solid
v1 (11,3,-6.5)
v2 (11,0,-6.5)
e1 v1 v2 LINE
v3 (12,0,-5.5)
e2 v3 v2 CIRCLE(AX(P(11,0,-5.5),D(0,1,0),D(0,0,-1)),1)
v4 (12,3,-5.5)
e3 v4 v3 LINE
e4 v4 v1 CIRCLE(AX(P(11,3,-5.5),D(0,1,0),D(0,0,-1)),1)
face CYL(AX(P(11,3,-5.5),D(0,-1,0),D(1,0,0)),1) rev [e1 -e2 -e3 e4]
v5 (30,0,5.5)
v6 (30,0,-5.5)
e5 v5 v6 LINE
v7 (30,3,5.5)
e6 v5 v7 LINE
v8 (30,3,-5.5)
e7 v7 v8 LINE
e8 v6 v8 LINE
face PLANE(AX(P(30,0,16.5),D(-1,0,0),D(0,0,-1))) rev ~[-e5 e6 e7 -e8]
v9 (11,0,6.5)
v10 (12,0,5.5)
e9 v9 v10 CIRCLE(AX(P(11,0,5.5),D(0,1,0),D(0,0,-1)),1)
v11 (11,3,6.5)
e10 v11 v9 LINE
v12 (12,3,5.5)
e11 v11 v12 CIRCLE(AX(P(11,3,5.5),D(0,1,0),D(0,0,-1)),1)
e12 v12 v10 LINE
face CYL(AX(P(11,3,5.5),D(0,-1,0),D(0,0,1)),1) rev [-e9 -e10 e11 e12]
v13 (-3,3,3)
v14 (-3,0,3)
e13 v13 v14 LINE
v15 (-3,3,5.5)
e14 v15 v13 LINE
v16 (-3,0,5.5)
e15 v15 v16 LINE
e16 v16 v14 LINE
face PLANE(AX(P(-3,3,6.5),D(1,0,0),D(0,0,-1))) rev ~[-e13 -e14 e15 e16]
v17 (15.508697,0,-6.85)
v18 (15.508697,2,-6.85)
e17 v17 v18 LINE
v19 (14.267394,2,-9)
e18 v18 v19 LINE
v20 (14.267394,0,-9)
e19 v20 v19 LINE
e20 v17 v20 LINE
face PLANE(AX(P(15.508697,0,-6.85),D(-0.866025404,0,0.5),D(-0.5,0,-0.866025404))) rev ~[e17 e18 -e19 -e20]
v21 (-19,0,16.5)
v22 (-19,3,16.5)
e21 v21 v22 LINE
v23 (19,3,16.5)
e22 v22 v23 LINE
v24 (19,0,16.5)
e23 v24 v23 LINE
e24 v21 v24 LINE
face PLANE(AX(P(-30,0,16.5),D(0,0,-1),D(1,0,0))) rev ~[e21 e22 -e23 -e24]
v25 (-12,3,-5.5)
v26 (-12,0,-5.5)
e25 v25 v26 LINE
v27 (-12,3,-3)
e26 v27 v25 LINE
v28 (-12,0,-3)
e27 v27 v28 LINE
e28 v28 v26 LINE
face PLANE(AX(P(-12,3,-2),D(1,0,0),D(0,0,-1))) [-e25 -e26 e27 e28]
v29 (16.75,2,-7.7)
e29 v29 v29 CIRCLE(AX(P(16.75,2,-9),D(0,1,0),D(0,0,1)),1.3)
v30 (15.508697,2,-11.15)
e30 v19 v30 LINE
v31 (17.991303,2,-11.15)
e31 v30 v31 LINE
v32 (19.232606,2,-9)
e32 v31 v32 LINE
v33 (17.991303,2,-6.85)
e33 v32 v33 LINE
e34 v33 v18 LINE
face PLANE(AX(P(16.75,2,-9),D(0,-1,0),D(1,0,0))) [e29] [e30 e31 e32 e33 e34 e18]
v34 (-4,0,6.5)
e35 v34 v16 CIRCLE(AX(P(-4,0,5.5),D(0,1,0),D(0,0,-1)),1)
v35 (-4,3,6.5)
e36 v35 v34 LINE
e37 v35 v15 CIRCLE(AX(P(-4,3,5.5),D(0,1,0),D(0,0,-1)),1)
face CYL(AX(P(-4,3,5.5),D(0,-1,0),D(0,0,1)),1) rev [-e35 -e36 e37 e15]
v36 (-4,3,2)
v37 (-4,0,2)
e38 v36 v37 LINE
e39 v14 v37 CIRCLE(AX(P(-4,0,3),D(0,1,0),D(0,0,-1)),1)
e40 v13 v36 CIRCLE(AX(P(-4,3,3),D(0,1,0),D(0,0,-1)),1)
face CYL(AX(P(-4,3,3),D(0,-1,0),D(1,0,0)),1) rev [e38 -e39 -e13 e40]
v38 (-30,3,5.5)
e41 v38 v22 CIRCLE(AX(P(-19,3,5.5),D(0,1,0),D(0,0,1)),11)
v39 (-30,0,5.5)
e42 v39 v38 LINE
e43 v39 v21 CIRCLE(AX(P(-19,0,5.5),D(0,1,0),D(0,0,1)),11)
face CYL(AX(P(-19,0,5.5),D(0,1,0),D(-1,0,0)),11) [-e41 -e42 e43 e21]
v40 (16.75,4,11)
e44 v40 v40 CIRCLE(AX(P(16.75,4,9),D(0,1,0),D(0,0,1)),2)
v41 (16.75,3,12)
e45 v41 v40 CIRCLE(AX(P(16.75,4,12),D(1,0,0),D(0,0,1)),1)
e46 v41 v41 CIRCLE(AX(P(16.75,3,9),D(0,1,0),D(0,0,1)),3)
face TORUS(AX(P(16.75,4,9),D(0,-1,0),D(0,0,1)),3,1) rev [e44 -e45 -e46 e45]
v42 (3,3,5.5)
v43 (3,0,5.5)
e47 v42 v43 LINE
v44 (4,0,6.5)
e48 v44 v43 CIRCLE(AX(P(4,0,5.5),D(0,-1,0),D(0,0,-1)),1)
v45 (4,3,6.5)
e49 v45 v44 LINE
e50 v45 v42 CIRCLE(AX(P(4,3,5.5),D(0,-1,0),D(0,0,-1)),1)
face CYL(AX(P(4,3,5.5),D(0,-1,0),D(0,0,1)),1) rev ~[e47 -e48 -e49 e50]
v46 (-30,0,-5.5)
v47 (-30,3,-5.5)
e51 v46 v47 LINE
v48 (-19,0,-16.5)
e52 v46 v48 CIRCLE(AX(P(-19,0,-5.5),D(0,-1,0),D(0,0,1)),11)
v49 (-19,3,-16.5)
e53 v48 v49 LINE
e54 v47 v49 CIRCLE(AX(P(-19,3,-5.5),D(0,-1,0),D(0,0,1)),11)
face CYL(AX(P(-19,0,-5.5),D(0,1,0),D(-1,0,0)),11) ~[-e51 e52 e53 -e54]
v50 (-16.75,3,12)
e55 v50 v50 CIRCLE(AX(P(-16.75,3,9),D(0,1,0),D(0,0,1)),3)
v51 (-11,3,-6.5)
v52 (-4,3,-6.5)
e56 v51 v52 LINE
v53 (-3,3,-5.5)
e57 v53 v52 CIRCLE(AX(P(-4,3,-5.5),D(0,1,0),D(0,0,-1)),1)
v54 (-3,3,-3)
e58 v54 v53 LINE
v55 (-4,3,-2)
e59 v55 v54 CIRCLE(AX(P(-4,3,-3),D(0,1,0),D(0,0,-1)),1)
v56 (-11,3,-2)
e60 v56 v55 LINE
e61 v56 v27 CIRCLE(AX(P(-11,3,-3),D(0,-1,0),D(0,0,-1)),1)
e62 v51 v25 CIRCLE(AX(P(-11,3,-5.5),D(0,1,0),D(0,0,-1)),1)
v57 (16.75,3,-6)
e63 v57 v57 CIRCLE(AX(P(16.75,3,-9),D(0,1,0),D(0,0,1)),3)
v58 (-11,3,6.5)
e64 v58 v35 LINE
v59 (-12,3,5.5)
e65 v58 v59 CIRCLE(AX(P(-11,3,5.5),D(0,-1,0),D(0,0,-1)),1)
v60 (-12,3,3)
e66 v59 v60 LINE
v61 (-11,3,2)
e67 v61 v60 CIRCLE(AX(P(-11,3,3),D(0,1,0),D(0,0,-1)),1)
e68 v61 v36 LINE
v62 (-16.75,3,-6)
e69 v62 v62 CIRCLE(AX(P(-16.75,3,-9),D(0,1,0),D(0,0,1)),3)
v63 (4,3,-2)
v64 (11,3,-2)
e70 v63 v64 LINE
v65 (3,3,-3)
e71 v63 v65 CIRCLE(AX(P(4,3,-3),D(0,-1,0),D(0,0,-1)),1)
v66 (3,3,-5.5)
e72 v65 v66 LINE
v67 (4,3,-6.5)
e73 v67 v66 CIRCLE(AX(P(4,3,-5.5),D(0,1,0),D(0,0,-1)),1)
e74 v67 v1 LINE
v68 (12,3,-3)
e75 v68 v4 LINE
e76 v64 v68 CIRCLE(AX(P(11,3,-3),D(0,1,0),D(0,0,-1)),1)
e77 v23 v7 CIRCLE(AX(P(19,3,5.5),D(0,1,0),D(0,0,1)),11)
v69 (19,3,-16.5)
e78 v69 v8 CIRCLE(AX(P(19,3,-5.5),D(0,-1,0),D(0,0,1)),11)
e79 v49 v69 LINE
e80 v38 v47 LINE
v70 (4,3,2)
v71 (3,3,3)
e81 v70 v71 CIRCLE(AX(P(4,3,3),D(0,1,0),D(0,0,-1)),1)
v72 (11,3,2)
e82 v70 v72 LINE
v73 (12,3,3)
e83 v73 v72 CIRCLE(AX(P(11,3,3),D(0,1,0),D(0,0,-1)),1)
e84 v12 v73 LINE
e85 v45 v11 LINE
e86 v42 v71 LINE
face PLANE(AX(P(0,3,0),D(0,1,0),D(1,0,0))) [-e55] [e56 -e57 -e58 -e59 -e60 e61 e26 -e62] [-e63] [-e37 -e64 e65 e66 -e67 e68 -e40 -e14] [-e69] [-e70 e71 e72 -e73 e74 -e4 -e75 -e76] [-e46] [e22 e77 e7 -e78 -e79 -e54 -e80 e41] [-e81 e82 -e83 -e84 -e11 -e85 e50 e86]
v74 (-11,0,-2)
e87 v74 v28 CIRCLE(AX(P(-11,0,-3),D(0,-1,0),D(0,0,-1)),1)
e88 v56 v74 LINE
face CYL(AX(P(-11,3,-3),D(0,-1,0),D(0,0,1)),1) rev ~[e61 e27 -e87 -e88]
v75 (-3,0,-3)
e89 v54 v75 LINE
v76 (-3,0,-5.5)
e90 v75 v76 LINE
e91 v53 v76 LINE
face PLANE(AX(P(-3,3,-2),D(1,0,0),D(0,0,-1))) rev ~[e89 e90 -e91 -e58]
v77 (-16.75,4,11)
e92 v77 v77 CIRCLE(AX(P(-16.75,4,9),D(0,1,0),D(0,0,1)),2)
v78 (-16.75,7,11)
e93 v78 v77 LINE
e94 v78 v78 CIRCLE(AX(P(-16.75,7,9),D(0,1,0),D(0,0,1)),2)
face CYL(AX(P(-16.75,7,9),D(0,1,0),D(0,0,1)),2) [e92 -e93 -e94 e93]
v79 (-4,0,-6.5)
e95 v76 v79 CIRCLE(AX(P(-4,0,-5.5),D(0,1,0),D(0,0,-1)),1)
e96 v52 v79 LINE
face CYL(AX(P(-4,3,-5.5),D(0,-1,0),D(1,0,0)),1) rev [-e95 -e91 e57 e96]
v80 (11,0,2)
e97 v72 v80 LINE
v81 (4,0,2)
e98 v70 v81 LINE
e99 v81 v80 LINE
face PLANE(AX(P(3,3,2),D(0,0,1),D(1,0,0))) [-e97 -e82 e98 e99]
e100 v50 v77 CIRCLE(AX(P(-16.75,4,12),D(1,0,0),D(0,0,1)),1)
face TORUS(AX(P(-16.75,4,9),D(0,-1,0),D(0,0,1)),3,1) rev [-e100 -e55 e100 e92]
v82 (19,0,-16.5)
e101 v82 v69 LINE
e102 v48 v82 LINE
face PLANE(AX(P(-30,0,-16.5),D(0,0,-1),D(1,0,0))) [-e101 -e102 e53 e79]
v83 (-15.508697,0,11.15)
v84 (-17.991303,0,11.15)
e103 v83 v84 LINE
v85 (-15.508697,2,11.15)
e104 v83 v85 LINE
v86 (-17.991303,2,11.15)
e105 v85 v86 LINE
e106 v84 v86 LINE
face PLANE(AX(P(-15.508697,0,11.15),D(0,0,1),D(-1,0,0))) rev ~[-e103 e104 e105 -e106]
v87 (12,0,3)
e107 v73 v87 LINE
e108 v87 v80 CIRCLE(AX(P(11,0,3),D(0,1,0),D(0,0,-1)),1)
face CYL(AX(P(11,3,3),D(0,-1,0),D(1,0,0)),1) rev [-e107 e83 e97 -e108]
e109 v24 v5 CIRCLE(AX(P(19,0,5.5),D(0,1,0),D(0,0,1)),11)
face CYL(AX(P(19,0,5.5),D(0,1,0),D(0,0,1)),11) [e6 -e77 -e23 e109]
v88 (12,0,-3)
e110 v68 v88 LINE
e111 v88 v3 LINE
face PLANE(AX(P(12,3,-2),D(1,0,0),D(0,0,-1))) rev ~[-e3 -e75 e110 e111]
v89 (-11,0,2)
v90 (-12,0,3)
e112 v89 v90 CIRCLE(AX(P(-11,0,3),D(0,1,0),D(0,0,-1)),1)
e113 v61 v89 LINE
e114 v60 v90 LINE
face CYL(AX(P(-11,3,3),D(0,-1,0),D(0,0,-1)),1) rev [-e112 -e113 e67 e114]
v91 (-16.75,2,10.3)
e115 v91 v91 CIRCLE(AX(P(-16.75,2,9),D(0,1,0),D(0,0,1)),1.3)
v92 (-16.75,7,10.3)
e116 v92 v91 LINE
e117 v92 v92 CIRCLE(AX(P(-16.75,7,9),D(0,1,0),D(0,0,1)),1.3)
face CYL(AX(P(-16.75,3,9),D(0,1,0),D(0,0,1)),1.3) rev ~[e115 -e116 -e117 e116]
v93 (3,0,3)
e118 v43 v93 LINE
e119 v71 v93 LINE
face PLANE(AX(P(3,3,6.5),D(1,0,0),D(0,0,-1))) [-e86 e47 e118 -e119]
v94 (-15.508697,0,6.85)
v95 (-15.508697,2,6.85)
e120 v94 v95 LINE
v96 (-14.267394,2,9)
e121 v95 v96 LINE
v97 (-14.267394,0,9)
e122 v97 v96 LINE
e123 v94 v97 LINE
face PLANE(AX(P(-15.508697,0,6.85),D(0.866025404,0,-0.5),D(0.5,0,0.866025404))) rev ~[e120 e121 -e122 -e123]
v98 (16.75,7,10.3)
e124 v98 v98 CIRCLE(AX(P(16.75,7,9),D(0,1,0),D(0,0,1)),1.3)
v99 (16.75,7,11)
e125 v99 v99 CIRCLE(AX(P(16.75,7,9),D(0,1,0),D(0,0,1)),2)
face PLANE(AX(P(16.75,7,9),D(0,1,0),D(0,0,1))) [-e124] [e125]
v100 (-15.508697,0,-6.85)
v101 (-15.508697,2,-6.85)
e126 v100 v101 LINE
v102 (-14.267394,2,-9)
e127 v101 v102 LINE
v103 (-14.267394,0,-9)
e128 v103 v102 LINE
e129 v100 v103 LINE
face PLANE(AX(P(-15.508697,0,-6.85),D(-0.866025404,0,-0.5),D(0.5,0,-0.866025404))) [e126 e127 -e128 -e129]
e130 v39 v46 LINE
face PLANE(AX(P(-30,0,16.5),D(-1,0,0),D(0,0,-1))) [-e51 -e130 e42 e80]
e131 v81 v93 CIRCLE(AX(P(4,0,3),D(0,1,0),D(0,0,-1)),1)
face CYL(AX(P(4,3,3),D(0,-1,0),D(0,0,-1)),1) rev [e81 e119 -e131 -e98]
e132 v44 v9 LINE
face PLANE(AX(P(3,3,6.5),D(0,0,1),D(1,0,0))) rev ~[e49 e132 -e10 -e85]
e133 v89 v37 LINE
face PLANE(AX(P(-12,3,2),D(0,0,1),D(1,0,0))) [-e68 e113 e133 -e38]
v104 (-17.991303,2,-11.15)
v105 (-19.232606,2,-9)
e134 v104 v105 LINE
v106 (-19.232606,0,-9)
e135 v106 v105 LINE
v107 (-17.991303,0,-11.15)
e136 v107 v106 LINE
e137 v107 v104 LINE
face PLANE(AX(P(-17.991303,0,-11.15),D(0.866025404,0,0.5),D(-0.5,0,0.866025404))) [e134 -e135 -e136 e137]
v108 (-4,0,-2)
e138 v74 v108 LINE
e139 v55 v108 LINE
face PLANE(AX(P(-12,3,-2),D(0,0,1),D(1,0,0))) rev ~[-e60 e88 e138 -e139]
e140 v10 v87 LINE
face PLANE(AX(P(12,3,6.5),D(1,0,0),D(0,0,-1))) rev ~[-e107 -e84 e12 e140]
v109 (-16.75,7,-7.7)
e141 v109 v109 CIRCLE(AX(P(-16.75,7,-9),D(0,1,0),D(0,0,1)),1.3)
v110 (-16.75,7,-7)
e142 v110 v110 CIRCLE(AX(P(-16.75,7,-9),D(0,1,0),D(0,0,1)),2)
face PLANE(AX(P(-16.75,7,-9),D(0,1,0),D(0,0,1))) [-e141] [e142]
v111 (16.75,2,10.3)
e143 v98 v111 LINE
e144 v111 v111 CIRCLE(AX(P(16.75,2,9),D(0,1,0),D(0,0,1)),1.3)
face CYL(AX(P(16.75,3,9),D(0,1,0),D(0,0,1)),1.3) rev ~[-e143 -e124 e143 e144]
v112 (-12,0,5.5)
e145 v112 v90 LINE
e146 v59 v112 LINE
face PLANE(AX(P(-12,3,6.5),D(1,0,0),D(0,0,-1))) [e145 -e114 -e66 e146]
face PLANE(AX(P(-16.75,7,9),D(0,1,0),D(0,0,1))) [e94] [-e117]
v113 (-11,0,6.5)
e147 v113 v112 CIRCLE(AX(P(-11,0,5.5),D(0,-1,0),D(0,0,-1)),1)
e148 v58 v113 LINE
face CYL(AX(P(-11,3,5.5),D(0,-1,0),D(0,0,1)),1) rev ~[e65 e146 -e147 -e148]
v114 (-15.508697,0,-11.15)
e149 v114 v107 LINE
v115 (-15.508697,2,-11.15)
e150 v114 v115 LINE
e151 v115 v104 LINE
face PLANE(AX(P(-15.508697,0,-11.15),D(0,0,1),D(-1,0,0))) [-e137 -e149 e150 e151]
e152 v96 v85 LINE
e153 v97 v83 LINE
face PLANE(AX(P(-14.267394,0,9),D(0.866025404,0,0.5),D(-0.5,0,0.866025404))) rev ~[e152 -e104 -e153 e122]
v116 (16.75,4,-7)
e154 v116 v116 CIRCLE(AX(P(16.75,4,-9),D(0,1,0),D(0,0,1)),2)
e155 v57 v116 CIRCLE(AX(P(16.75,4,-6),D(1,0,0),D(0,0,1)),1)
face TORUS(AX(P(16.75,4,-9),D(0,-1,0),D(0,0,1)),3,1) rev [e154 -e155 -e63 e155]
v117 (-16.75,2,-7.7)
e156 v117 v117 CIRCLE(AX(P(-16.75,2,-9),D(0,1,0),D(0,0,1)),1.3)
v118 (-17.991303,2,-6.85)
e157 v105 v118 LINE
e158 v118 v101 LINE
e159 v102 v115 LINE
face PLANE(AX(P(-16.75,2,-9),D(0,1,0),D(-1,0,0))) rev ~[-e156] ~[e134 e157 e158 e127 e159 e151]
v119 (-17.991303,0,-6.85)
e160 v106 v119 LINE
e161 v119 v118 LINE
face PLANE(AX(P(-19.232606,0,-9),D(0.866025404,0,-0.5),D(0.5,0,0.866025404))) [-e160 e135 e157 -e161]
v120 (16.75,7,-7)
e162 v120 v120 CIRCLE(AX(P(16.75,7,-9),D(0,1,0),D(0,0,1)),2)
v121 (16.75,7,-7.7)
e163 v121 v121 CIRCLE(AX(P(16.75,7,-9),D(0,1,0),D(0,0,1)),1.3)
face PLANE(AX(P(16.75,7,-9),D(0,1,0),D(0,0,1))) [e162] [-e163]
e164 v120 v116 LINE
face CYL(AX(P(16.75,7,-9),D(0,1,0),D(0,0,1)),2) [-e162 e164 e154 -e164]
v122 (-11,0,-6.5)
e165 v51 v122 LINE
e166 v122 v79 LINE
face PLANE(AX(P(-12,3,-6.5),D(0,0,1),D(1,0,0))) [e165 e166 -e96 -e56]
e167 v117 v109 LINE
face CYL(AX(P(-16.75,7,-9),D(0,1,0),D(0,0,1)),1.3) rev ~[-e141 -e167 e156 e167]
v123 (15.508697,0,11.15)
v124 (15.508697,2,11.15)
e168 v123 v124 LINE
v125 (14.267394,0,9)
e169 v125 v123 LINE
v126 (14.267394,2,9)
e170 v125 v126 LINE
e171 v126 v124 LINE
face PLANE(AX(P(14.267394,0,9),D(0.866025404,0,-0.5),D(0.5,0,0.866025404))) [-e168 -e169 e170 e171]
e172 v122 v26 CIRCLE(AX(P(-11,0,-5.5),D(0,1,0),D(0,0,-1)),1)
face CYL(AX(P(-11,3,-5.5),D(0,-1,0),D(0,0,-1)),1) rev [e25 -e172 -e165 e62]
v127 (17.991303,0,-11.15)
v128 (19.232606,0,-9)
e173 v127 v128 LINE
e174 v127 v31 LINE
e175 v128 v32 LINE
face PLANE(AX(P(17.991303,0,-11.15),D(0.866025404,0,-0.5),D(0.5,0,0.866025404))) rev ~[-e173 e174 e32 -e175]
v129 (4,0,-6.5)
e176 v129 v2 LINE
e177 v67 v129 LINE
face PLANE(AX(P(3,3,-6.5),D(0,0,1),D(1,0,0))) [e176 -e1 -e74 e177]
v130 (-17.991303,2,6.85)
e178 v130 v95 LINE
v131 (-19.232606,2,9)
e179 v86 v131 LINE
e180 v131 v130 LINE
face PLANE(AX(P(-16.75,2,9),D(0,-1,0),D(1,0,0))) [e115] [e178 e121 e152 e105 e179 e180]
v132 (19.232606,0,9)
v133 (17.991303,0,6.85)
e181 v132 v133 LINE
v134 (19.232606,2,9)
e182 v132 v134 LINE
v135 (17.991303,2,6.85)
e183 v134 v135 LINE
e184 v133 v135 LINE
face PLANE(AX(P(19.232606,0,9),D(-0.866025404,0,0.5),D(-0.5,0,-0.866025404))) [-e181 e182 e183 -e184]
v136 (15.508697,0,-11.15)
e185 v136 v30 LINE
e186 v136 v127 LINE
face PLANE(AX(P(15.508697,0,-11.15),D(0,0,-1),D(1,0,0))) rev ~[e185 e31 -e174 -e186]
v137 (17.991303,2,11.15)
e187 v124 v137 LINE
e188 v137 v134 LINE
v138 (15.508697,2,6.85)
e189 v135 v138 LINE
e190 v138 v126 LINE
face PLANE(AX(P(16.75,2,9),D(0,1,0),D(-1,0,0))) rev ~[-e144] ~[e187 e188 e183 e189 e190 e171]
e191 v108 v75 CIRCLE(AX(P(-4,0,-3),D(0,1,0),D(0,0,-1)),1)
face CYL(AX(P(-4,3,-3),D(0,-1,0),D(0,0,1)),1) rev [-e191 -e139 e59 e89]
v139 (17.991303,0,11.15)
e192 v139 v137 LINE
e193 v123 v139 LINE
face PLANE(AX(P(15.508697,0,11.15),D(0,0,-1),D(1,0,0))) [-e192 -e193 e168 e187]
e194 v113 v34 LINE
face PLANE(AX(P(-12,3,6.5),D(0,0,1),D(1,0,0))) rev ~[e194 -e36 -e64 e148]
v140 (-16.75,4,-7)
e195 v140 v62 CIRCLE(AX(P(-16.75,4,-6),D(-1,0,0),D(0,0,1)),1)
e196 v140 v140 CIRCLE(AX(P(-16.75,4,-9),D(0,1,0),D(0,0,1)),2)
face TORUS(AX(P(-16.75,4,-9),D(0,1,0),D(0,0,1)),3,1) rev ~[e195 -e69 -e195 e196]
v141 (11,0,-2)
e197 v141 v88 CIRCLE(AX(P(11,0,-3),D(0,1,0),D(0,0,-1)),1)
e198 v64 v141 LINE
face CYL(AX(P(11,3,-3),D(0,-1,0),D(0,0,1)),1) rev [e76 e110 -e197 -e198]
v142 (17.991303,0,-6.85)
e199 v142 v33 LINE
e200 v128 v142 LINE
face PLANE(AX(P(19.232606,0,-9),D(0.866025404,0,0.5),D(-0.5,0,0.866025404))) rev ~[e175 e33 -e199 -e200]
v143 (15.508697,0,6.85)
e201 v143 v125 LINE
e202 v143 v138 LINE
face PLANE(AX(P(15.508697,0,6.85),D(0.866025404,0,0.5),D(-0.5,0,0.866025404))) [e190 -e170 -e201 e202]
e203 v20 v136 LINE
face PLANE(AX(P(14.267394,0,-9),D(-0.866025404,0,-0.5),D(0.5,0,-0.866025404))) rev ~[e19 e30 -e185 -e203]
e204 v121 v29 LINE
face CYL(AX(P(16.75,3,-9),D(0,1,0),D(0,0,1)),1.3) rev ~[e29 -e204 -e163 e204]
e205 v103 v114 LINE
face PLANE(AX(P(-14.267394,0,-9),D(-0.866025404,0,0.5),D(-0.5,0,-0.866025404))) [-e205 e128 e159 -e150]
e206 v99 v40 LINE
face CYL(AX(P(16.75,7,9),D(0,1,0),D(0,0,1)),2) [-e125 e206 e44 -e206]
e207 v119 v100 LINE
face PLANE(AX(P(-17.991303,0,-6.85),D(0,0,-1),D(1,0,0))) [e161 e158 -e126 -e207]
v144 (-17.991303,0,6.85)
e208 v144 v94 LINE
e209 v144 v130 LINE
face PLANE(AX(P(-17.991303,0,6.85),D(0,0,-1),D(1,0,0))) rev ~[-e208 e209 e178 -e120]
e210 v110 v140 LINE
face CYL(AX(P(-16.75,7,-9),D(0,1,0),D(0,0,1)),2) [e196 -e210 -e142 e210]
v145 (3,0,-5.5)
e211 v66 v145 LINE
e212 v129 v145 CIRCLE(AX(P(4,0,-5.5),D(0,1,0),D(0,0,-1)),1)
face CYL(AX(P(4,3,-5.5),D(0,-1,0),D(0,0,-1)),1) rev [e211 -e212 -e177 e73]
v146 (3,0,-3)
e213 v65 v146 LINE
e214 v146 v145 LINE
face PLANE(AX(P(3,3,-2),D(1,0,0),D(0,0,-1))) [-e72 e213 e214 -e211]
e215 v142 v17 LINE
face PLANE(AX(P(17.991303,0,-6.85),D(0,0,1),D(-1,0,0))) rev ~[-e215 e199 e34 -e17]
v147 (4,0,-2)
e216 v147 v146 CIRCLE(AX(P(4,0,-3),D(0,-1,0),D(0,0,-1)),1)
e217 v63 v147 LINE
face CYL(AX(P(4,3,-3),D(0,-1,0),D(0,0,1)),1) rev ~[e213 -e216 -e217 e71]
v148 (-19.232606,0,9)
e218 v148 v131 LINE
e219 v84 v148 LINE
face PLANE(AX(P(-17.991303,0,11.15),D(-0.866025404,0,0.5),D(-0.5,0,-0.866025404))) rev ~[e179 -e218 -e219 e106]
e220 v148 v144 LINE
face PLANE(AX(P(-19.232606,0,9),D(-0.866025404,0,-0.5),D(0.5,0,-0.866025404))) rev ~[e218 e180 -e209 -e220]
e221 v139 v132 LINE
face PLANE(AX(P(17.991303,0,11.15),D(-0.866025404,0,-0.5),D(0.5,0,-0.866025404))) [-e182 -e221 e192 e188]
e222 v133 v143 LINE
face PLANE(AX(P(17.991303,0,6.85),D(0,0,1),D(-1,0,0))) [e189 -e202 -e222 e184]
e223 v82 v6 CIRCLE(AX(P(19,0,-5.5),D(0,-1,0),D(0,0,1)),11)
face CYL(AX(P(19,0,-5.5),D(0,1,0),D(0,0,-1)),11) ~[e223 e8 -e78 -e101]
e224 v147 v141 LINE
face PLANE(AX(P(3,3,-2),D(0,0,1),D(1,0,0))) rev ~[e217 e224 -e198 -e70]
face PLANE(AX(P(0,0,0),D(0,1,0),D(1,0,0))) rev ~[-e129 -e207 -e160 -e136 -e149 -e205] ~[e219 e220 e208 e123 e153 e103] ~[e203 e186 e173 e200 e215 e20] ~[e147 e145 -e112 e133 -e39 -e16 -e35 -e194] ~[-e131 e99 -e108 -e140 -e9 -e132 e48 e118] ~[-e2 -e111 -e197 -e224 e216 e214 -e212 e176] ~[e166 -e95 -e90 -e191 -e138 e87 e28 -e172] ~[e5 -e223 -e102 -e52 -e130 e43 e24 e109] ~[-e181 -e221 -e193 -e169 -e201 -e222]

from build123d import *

# Parameters (mm, degrees)
SKETCH1_W           = 60
SKETCH1_H           = 33
BOSS_EXTRUDE1_DEPTH = 3
SKETCH2_R           = 1.3
CUT_EXTRUDE1_DEPTH  = 3
BOSS_EXTRUDE2_START = 4
SKETCH3_R           = 2
SKETCH3_R_2         = 1.3
BOSS_EXTRUDE2_DEPTH = 4
FILLET1_R           = 1
CUT_EXTRUDE2_DEPTH  = 2
FILLET2_R           = 11
SKETCH5_W           = 9
SKETCH5_H           = 4.5
CUT_EXTRUDE3_DEPTH  = 35.471002306
FILLET3_R           = 1


with BuildPart() as part:
    # Sketch1 → Boss-Extrude1 (new body)
    with BuildSketch(Plane(origin=(0, 0, 0), x_dir=(1, 0, 0), z_dir=(0, 1, 0))):
        Rectangle(SKETCH1_W, SKETCH1_H)
    extrude(amount=BOSS_EXTRUDE1_DEPTH)

    # Sketch2 → Cut-Extrude1 (cut)
    with BuildSketch(Plane(origin=(0, 3, 0), x_dir=(1, 0, 0), z_dir=(0, 1, 0))):
        with Locations(Location((-16.75, 9, 0), (0, 0, 270))):
            Circle(SKETCH2_R)
        with Locations(Location((16.75, 9, 0), (0, 0, 270))):
            Circle(SKETCH2_R)
        with Locations(Location((-16.75, -9, 0), (0, 0, 270))):
            Circle(SKETCH2_R)
        with Locations(Location((16.75, -9, 0), (0, 0, 270))):
            Circle(SKETCH2_R)
    extrude(amount=-CUT_EXTRUDE1_DEPTH, mode=Mode.SUBTRACT)

    # Sketch3 → Boss-Extrude2 (add)
    # profile 1 of 4: a face of its own
    with BuildSketch(Plane(origin=(0, 3, 0), x_dir=(1, 0, 0), z_dir=(0, 1, 0)).offset(BOSS_EXTRUDE2_START)):
        with Locations(Location((-16.75, 9, 0), (0, 0, 270))):
            Circle(SKETCH3_R)
        with Locations(Location((-16.75, 9, 0), (0, 0, 270))):
            Circle(SKETCH3_R_2, mode=Mode.SUBTRACT)
    # profile 2 of 4: a face of its own
    with BuildSketch(Plane(origin=(0, 3, 0), x_dir=(1, 0, 0), z_dir=(0, 1, 0)).offset(BOSS_EXTRUDE2_START)):
        with Locations(Location((-16.75, -9, 0), (0, 0, 270))):
            Circle(SKETCH3_R)
        with Locations(Location((-16.75, -9, 0), (0, 0, 270))):
            Circle(SKETCH3_R_2, mode=Mode.SUBTRACT)
    # profile 3 of 4: a face of its own
    with BuildSketch(Plane(origin=(0, 3, 0), x_dir=(1, 0, 0), z_dir=(0, 1, 0)).offset(BOSS_EXTRUDE2_START)):
        with Locations(Location((16.75, -9, 0), (0, 0, 270))):
            Circle(SKETCH3_R)
        with Locations(Location((16.75, -9, 0), (0, 0, 270))):
            Circle(SKETCH3_R_2, mode=Mode.SUBTRACT)
    # profile 4 of 4: a face of its own
    with BuildSketch(Plane(origin=(0, 3, 0), x_dir=(1, 0, 0), z_dir=(0, 1, 0)).offset(BOSS_EXTRUDE2_START)):
        with Locations(Location((16.75, 9, 0), (0, 0, 270))):
            Circle(SKETCH3_R)
        with Locations(Location((16.75, 9, 0), (0, 0, 270))):
            Circle(SKETCH3_R_2, mode=Mode.SUBTRACT)
    extrude(amount=-BOSS_EXTRUDE2_DEPTH)

    # Fillet1
    fillet1_edges = [part.edges().sort_by_distance(p)[0] for p in [
        (-16.75, 3, -11),
        (-16.75, 3, 7),
        (16.75, 3, 7),
        (16.75, 3, -11),
    ]]
    fillet(fillet1_edges, radius=FILLET1_R)

    # Sketch4 → Cut-Extrude2 (cut)
    with BuildSketch(Plane.XZ):
        Polygon((-15.508696921, 6.85), (-14.267393842, 9), (-15.508696921, 11.15), (-17.991303079, 11.15), (-19.232606158, 9), (-17.991303079, 6.85), align=None)
        Polygon((17.991303079, 6.85), (15.508696921, 6.85), (14.267393842, 9), (15.508696921, 11.15), (17.991303079, 11.15), (19.232606158, 9), align=None)
        Polygon((15.508696921, -6.85), (14.267393842, -9), (15.508696921, -11.15), (17.991303079, -11.15), (19.232606158, -9), (17.991303079, -6.85), align=None)
        Polygon((-17.991303079, -6.85), (-15.508696921, -6.85), (-14.267393842, -9), (-15.508696921, -11.15), (-17.991303079, -11.15), (-19.232606158, -9), align=None)
    extrude(amount=-CUT_EXTRUDE2_DEPTH, mode=Mode.SUBTRACT)

    # Fillet2
    fillet2_edges = [part.edges().sort_by_distance(p)[0] for p in [
        (-30, 1.5, -16.5),
        (30, 1.5, -16.5),
        (30, 1.5, 16.5),
        (-30, 1.5, 16.5),
    ]]
    fillet(fillet2_edges, radius=FILLET2_R)

    # Sketch5 → Cut-Extrude3 (cut, through all)
    with BuildSketch(Plane(origin=(0, 3, 0), x_dir=(1, 0, 0), z_dir=(0, 1, 0))):
        with Locations((-7.5, 4.25)):
            Rectangle(SKETCH5_W, SKETCH5_H)
        with Locations((7.5, 4.25)):
            Rectangle(SKETCH5_W, SKETCH5_H)
        with Locations((7.5, -4.25)):
            Rectangle(SKETCH5_W, SKETCH5_H)
        with Locations((-7.5, -4.25)):
            Rectangle(SKETCH5_W, SKETCH5_H)
    extrude(amount=-CUT_EXTRUDE3_DEPTH, mode=Mode.SUBTRACT)

    # Fillet3
    fillet3_edges = [part.edges().sort_by_distance(p)[0] for p in [
        (-12, 1.5, -2),
        (-12, 1.5, -6.5),
        (-3, 1.5, -6.5),
        (-3, 1.5, -2),
        (3, 1.5, -6.5),
        (12, 1.5, -6.5),
        (12, 1.5, -2),
        (3, 1.5, -2),
        (12, 1.5, 2),
        (12, 1.5, 6.5),
        (3, 1.5, 6.5),
        (3, 1.5, 2),
        (-3, 1.5, 6.5),
        (-12, 1.5, 6.5),
        (-12, 1.5, 2),
        (-3, 1.5, 2),
    ]]
    fillet(fillet3_edges, radius=FILLET3_R)


solid = part.part
